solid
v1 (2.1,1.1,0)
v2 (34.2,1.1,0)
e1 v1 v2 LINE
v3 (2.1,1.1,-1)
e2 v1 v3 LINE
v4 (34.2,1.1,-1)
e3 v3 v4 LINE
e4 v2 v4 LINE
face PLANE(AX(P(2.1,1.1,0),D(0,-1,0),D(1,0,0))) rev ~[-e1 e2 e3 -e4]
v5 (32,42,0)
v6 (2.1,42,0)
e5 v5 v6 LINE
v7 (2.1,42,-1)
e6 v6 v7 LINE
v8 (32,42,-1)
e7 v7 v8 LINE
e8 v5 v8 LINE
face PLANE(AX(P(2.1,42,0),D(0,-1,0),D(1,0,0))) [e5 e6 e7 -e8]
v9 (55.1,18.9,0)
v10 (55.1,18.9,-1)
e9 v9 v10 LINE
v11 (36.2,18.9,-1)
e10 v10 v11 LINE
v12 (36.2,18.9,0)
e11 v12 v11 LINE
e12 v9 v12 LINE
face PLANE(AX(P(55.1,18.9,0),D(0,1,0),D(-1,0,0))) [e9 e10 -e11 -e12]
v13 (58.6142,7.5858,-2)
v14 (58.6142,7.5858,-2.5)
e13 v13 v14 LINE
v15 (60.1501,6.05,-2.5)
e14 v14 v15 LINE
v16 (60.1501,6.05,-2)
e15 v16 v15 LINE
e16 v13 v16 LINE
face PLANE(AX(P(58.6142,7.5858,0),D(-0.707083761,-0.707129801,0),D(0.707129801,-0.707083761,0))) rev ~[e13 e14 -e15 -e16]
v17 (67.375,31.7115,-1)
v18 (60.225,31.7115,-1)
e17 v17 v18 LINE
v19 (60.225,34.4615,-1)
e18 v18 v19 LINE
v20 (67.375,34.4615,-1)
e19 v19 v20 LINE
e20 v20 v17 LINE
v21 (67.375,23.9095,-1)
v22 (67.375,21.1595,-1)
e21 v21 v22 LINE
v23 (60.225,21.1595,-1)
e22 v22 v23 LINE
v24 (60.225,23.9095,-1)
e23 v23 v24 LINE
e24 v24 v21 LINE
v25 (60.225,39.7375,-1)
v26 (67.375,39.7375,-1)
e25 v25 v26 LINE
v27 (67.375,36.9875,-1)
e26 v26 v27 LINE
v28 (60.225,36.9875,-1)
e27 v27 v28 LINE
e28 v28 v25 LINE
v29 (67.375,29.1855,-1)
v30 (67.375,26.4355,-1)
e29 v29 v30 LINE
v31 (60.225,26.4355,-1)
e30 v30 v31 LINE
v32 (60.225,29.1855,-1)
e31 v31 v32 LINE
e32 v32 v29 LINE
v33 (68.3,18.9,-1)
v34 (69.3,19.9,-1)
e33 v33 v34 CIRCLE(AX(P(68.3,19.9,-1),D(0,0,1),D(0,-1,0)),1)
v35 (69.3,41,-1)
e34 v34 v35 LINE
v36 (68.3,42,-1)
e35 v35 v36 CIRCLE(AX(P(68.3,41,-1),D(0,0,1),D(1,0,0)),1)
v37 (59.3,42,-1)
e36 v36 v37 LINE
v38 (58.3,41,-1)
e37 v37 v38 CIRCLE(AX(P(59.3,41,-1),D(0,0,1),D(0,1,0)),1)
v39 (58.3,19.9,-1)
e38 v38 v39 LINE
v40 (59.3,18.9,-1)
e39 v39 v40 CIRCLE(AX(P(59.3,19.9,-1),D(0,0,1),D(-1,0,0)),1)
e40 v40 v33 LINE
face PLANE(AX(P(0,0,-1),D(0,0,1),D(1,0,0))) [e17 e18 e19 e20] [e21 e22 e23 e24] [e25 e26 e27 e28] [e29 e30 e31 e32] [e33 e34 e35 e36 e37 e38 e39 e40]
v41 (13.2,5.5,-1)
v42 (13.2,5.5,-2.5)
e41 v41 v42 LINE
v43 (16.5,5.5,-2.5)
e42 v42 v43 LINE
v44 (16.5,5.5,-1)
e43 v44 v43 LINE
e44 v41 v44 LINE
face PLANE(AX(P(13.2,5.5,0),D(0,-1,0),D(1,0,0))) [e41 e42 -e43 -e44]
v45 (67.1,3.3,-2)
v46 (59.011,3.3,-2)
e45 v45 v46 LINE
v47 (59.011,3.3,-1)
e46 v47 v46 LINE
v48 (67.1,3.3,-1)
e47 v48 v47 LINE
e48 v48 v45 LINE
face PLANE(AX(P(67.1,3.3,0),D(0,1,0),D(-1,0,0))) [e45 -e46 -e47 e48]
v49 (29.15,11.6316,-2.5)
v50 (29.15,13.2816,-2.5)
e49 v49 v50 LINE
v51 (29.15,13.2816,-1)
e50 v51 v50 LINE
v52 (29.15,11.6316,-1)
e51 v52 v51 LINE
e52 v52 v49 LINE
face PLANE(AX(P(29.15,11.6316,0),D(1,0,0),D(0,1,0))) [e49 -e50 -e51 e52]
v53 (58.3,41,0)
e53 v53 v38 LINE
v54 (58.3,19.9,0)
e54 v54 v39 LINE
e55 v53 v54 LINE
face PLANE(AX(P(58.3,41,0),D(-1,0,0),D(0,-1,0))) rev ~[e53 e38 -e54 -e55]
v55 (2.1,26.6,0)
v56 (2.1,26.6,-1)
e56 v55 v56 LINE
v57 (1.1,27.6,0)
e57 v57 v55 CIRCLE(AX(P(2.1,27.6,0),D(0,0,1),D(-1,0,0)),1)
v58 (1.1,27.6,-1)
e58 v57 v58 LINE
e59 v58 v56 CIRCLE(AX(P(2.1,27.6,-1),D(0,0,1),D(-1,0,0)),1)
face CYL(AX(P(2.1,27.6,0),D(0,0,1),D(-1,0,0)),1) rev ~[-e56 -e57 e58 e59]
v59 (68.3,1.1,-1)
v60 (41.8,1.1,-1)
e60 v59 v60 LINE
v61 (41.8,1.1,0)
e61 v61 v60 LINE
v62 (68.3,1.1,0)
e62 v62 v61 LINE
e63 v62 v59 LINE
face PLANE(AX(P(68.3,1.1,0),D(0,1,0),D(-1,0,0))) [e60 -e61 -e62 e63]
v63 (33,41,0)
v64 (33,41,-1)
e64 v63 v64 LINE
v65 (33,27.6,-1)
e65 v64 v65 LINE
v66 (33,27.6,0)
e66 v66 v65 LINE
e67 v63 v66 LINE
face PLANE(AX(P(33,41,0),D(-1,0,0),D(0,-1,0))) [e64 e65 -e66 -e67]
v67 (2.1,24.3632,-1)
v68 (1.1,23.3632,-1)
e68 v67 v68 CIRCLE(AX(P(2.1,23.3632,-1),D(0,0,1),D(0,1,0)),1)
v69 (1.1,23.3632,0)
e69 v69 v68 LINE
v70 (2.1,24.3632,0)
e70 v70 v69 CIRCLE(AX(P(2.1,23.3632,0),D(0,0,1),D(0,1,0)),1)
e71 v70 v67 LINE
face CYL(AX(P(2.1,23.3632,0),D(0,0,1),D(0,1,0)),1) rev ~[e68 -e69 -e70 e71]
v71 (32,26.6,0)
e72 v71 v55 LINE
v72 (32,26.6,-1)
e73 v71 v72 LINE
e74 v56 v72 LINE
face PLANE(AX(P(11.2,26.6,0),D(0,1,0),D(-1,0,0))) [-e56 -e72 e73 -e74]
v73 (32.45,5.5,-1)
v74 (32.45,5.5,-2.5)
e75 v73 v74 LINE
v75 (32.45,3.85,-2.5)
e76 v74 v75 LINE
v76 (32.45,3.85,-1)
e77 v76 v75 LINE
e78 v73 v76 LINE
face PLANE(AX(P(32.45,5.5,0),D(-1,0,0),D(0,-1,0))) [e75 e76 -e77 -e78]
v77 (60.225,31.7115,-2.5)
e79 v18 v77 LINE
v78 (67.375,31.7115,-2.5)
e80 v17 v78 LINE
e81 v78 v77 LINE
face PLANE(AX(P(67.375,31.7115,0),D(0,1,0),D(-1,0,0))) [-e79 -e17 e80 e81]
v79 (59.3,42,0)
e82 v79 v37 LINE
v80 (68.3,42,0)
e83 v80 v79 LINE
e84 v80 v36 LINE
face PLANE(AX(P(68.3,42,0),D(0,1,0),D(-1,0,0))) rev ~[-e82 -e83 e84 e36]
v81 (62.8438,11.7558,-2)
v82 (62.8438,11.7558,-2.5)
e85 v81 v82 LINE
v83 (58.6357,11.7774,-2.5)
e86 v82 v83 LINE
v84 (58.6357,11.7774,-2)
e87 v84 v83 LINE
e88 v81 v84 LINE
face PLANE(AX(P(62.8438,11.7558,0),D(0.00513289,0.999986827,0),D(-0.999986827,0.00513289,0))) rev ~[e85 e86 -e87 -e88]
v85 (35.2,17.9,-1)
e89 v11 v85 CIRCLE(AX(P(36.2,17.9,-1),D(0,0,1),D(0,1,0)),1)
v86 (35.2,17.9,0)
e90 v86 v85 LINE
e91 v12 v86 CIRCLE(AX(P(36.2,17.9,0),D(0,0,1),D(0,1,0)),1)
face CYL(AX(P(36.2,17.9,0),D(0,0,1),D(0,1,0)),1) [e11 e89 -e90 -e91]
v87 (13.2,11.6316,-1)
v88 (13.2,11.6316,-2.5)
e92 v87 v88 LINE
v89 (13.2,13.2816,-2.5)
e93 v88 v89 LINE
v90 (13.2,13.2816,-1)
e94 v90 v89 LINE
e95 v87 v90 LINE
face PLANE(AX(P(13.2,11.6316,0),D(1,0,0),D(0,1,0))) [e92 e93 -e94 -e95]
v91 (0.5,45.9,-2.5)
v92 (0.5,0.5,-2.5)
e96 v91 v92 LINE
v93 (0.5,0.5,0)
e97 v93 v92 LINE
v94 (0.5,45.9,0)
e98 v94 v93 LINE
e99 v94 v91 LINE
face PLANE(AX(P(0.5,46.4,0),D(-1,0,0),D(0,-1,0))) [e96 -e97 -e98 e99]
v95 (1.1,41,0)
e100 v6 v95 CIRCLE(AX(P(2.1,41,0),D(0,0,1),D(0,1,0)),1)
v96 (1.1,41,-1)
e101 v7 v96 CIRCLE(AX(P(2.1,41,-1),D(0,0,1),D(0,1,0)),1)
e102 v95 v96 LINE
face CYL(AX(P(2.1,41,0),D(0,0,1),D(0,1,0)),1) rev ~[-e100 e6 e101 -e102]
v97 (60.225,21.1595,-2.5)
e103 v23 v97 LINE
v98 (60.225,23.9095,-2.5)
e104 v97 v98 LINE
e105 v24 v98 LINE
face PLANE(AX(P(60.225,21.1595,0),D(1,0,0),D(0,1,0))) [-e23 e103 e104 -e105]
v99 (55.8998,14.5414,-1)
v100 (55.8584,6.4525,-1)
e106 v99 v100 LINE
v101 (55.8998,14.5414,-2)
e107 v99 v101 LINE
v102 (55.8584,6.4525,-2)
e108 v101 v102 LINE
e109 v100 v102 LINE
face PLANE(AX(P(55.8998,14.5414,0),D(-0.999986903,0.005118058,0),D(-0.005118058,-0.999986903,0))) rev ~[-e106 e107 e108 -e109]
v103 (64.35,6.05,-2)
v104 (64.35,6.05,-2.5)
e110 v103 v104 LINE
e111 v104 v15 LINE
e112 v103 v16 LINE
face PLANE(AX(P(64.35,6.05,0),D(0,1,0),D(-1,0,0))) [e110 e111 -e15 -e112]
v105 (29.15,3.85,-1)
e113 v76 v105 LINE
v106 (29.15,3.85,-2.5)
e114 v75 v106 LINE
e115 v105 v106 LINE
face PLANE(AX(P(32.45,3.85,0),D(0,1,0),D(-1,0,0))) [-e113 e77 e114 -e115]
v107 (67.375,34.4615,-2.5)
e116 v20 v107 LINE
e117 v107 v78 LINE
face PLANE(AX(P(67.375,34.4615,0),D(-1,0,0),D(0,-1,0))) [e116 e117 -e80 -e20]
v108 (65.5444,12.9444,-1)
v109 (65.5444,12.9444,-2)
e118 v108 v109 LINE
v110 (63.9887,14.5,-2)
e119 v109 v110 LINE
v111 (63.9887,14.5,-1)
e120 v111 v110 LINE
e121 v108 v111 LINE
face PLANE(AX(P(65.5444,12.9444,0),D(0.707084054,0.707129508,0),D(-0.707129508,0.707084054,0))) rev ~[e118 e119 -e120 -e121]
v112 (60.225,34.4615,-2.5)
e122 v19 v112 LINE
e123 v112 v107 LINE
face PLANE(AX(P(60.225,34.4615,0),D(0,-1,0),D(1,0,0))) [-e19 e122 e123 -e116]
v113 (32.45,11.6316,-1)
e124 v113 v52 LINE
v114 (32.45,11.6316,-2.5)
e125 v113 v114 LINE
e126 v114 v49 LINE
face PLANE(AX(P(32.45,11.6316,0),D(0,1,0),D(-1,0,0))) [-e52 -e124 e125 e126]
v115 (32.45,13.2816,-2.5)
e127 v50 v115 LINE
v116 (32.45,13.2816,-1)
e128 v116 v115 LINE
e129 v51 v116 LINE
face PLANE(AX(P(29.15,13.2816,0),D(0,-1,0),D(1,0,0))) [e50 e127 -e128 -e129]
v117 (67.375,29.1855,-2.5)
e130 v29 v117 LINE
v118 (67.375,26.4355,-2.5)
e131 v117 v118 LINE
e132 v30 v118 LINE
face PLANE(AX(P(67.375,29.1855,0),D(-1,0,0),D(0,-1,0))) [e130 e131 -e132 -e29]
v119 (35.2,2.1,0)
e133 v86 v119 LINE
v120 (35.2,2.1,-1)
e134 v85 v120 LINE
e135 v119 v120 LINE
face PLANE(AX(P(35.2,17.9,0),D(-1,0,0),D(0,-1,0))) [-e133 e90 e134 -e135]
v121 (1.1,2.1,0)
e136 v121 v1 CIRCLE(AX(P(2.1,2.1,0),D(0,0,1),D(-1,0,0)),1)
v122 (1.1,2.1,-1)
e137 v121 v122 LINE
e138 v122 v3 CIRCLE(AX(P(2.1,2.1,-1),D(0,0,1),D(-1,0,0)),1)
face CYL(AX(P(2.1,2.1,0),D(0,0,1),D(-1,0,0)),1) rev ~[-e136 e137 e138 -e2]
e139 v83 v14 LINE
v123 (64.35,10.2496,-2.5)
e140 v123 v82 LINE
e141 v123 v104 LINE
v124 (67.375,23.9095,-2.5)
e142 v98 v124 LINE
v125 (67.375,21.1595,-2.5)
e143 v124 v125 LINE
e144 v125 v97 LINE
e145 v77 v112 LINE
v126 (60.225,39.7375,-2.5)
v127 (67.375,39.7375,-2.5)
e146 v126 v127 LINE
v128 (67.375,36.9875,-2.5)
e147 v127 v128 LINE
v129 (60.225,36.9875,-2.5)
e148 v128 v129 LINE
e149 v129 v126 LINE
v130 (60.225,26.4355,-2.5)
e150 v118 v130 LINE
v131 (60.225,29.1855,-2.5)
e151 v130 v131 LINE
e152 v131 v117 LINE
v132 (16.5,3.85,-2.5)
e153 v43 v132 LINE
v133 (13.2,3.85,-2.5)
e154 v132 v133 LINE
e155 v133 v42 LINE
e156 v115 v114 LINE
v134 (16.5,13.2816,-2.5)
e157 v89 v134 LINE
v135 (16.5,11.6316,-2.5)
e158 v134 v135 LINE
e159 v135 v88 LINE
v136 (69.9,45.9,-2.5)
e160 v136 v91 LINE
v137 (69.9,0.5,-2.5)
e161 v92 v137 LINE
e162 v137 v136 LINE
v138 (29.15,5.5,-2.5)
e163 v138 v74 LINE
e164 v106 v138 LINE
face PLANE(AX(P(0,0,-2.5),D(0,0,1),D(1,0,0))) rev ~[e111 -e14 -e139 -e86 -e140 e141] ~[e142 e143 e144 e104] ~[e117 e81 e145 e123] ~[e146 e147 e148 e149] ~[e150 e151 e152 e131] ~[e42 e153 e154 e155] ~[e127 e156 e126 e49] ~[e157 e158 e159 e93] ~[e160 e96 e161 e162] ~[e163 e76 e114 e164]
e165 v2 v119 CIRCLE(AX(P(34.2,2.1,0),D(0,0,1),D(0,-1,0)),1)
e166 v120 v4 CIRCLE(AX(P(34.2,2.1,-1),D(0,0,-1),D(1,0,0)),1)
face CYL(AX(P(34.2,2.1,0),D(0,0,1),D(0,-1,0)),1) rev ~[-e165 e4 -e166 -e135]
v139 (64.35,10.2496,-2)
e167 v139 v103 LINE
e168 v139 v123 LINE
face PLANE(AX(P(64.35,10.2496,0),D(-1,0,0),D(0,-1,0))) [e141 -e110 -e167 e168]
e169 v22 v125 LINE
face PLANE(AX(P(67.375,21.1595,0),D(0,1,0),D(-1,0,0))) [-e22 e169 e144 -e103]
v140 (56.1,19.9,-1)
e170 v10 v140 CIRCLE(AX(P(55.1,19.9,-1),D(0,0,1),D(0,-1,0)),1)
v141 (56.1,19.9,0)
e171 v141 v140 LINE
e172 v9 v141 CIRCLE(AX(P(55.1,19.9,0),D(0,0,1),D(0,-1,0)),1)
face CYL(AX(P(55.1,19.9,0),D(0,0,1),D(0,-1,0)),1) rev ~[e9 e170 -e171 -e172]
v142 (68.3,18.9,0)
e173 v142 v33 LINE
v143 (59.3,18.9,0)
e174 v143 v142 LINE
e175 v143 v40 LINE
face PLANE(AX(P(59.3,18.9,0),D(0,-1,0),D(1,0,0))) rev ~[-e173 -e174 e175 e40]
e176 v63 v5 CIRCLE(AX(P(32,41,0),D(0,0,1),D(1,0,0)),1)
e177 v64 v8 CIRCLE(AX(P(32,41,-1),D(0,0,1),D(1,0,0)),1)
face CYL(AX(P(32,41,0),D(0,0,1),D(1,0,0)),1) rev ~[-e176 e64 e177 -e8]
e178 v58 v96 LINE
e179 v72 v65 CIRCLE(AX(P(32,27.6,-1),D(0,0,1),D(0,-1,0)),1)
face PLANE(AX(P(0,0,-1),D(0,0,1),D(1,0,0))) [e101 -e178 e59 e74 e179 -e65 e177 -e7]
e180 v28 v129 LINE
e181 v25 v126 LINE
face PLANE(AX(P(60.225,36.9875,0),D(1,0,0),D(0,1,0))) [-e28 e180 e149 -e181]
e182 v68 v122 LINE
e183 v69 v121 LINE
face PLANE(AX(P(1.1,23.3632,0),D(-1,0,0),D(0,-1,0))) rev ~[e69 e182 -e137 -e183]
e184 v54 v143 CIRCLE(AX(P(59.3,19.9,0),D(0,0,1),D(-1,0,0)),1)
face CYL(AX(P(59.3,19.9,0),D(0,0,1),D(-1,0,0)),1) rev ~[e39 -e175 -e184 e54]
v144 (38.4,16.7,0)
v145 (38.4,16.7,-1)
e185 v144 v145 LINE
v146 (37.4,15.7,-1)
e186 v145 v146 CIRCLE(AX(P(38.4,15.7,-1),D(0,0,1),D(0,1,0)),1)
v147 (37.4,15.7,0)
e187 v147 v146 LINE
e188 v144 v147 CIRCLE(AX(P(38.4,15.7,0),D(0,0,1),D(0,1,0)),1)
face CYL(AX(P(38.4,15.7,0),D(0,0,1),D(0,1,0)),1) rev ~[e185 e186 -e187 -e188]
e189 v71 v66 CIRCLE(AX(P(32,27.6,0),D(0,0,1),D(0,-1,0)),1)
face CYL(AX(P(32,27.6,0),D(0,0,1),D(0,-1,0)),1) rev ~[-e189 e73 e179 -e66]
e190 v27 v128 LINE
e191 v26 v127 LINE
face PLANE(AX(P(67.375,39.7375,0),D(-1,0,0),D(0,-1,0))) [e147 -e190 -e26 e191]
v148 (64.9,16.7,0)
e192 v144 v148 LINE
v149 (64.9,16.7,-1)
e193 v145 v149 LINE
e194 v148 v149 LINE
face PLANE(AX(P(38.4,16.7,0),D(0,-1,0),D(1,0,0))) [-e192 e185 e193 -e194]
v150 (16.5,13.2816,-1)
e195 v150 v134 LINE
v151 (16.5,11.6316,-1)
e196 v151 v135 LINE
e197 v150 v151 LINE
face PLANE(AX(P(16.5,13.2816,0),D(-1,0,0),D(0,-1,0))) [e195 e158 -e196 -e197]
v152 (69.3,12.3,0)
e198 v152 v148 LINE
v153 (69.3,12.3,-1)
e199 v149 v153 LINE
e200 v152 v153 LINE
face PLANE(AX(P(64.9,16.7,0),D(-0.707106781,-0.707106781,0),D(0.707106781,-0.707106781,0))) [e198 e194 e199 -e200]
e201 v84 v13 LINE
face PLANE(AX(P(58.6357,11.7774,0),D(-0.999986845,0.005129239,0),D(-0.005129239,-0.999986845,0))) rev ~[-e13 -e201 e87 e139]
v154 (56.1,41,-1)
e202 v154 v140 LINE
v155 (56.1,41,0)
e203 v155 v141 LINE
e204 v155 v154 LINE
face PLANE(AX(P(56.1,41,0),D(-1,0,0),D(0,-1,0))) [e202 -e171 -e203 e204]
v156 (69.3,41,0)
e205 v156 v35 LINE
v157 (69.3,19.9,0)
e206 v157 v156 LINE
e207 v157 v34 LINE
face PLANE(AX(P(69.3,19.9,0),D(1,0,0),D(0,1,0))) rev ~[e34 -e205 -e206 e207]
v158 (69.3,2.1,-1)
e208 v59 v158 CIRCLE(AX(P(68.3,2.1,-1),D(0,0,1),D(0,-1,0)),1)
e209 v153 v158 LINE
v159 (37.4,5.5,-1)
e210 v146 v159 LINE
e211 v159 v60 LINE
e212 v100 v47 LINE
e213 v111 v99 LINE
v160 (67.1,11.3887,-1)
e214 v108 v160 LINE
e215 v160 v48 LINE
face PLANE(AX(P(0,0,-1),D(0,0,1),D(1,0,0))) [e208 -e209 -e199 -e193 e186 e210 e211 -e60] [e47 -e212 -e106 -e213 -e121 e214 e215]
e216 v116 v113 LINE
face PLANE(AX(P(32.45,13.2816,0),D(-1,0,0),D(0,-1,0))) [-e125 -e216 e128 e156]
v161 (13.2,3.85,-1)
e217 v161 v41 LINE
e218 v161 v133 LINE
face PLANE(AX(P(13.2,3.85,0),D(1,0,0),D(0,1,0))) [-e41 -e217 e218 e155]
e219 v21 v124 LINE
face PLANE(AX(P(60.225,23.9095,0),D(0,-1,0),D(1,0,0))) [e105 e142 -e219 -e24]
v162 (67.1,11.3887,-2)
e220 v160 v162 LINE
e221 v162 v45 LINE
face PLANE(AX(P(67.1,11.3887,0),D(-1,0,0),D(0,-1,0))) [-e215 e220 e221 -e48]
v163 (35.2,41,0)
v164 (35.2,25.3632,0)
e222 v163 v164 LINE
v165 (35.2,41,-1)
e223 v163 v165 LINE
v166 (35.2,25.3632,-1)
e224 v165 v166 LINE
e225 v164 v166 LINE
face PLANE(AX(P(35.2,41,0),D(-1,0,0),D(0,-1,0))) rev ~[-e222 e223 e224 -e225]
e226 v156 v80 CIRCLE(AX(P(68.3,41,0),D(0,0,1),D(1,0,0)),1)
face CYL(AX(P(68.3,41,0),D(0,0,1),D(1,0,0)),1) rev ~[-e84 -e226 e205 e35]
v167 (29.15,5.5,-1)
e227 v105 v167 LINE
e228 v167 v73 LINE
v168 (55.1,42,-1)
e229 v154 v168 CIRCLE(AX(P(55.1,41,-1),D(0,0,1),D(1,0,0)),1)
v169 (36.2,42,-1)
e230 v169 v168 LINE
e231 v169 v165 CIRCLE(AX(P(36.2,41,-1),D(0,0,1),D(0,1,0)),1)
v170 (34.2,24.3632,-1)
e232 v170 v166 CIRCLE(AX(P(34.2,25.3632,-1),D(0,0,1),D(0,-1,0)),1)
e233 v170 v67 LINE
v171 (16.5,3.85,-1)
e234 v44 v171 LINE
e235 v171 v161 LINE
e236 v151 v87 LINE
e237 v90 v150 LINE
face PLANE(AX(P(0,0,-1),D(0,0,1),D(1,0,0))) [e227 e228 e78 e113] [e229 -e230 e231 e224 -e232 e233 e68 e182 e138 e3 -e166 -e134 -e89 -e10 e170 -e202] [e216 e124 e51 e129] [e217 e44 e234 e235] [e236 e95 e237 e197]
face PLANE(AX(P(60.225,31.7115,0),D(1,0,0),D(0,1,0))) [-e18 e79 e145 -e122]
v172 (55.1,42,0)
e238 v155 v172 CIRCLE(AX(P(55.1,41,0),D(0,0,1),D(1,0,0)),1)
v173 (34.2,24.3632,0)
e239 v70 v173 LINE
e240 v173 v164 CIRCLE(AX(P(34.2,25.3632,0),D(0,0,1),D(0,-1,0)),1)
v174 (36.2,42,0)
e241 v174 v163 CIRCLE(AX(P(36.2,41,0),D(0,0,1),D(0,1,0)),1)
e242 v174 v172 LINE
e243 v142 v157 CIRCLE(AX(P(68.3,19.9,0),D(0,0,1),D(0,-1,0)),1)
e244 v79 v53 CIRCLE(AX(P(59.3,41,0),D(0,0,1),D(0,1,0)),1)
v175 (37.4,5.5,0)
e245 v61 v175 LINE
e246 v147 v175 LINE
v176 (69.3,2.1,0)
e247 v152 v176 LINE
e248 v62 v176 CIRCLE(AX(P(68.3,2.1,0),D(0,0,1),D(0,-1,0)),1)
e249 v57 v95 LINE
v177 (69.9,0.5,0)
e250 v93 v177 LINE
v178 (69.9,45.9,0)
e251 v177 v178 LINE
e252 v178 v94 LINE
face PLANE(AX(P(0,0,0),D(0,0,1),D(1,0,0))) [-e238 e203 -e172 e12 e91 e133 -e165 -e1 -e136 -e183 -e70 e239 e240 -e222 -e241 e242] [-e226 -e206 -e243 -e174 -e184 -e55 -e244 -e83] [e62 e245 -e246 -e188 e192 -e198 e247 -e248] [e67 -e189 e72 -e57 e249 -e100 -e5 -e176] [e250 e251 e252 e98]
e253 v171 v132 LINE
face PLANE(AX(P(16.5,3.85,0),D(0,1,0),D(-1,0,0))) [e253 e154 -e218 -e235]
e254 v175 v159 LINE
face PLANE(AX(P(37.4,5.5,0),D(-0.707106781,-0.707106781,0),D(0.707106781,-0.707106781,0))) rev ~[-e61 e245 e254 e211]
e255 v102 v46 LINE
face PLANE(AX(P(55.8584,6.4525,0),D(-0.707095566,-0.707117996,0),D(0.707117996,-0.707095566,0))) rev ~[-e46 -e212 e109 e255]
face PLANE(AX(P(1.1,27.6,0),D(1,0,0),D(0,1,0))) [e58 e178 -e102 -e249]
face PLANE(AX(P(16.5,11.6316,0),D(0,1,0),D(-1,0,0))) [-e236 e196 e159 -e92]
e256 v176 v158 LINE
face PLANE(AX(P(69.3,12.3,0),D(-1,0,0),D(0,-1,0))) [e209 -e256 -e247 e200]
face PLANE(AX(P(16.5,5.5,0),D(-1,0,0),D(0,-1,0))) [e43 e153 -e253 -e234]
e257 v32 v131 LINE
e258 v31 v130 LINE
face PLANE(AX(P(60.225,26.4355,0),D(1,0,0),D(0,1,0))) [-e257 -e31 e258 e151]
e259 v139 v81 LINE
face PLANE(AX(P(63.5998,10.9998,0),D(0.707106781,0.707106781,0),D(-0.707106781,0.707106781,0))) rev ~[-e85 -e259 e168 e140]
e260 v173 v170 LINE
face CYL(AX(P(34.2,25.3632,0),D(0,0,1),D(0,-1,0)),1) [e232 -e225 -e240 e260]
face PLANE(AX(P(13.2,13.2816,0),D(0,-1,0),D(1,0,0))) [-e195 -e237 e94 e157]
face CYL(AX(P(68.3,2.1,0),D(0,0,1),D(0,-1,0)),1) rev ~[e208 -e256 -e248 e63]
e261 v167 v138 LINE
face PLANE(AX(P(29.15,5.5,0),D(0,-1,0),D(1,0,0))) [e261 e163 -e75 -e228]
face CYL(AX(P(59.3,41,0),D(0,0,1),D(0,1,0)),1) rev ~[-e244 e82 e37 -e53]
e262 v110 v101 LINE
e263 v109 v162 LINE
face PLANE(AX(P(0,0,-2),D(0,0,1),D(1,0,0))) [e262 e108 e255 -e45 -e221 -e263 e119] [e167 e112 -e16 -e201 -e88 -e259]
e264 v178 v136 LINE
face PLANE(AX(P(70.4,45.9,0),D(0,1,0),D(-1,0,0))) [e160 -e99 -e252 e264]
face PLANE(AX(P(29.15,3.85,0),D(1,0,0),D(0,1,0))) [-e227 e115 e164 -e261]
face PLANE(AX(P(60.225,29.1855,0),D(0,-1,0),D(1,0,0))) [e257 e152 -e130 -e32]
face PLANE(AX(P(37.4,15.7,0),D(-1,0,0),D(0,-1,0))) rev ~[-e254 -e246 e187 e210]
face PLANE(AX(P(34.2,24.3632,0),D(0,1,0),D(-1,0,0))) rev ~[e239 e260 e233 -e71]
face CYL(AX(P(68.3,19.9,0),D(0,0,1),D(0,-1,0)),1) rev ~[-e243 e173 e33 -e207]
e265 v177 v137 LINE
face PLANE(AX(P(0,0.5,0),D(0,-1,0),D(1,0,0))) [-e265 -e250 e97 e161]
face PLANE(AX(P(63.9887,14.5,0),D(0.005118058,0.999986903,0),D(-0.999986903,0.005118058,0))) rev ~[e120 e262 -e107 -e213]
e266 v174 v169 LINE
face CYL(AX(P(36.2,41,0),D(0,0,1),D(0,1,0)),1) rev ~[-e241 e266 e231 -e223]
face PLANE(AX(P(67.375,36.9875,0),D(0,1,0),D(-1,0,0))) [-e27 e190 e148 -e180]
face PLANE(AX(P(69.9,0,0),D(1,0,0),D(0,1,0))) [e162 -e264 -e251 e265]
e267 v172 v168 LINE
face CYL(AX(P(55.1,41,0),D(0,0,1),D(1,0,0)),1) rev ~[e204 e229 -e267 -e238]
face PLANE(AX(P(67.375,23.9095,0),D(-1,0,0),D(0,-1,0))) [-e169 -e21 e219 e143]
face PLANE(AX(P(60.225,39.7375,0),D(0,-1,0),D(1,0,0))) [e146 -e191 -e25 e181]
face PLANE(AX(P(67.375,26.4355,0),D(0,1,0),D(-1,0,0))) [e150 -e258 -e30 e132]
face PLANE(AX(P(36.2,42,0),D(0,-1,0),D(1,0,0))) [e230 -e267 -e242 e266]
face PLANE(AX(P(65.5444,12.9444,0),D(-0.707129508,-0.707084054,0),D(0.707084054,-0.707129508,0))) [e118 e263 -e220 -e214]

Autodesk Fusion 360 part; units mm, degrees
sketch "Sketch1" plane through (0, 0, 0) normal (0, 0, 1) x (1, 0, 0)
  line L0 (0, 0) -> (70.4, 0)
  line L1 (70.4, 0) -> (70.4, 46.4)
  line L2 (70.4, 46.4) -> (0, 46.4)
  line L3 (0, 46.4) -> (0, 0)
  line L4 (1.1, 1.1) -> (69.3, 1.1) construction
  line L5 (69.3, 1.1) -> (69.3, 45.3) construction
  line L6 (69.3, 45.3) -> (1.1, 45.3) construction
  line L7 (1.1, 45.3) -> (1.1, 1.1) construction
  line L8 (35.2, 45.3) -> (35.2, 1.1) construction
  line L9 (1.1, 23.2) -> (35.2, 23.2) construction
  line L10 (35.2, 23.2) -> (69.3, 23.2) construction
  line L11 (35.2, 45.3) -> (35.2, 42) construction
  line L12 (35.2, 42) -> (35, 42) construction
  line L13 (35, 42) -> (1.1, 42) construction
  line L14 (35.2, 42) -> (69.3, 42) construction
  line L15 (68.3, 42) -> (59.3, 42)
  line L16 (58.3, 41) -> (58.3, 19.9)
  line L17 (59.3, 18.9) -> (68.3, 18.9)
  line L18 (69.3, 19.9) -> (69.3, 41)
  line L19 (58.3, 30.45) -> (56.1, 30.45) construction
  line L20 (36.2, 42) -> (55.1, 42)
  line L21 (56.1, 41) -> (56.1, 19.9)
  line L22 (55.1, 18.9) -> (36.2, 18.9)
  line L23 (35.2, 30.45) -> (33, 30.45) construction
  line L24 (2.1, 42) -> (32, 42)
  line L25 (33, 41) -> (33, 27.6)
  line L26 (32, 26.6) -> (2.1, 26.6)
  line L27 (1.1, 27.6) -> (1.1, 41)
  line L28 (17.05, 26.6) -> (17.05, 24.4) construction
  line L29 (45.65, 18.9) -> (45.65, 16.7) construction
  line L30 (2.1, 1.1) -> (34.2, 1.1)
  line L31 (34.2, 24.3632) -> (2.1, 24.3632)
  line L32 (1.1, 23.3632) -> (1.1, 2.1)
  line L33 (35.2, 41) -> (35.2, 25.3632)
  line L34 (35.2, 17.9) -> (35.2, 2.1)
  line L35 (18.15, 24.3632) -> (18.15, 17.7632) construction
  line L36 (1.1, 1.1) -> (1.1, 2.2) construction
  line L37 (1.1, 1.1) -> (2.2, 1.1) construction
  line L38 (35.2, 1.1) -> (35.2, 2.2) construction
  line L39 (35.2, 1.1) -> (34.1, 1.1) construction
  line L40 (2.2, 2.2) -> (34.1, 2.2) construction
  line L41 (34.1, 2.2) -> (34.1, 17.7632) construction
  line L42 (34.1, 17.7632) -> (18.15, 17.7632) construction
  line L43 (2.2, 2.2) -> (2.2, 17.7632) construction
  line L44 (2.2, 17.7632) -> (18.15, 17.7632) construction
  line L45 (18.15, 2.2) -> (18.15, 17.7632) construction
  line L46 (18.15, 9.9816) -> (34.1, 9.9816) construction
  line L47 (18.15, 9.9816) -> (2.2, 9.9816) construction
  line L48 (10.175, 9.9816) -> (10.175, 11.0816) construction
  line L49 (18.15, 9.9816) -> (18.15, 17.7632) construction
  line L50 (18.15, 9.9816) -> (18.15, 2.2) construction
  line L51 (18.15, 13.8724) -> (17.05, 13.8724) construction
  line L52 (2.2, 2.2) -> (18.15, 2.2) construction
  line L53 (18.15, 2.2) -> (34.1, 2.2) construction
  line L54 (10.175, 2.2) -> (10.175, 3.3) construction
  line L55 (18.15, 6.0908) -> (17.05, 6.0908) construction
  line L56 (26.125, 2.2) -> (26.125, 3.3) construction
  line L57 (18.15, 6.0908) -> (19.25, 6.0908) construction
  line L58 (18.15, 13.8724) -> (19.25, 13.8724) construction
  line L59 (26.125, 9.9816) -> (26.125, 11.0816) construction
  line L60 (3.3, 16.6632) -> (17.05, 16.6632) construction
  line L61 (17.05, 16.6632) -> (17.05, 11.0816) construction
  line L62 (17.05, 11.0816) -> (3.3, 11.0816) construction
  line L63 (3.3, 11.0816) -> (3.3, 16.6632) construction
  line L64 (3.3, 8.8816) -> (17.05, 8.8816) construction
  line L65 (17.05, 8.8816) -> (17.05, 3.3) construction
  line L66 (17.05, 3.3) -> (3.3, 3.3) construction
  line L67 (3.3, 3.3) -> (3.3, 8.8816) construction
  line L68 (19.25, 8.8816) -> (33, 8.8816) construction
  line L69 (33, 8.8816) -> (33, 3.3) construction
  line L70 (33, 3.3) -> (19.25, 3.3) construction
  line L71 (19.25, 3.3) -> (19.25, 8.8816) construction
  line L72 (19.25, 16.6632) -> (33, 16.6632) construction
  line L73 (33, 16.6632) -> (33, 11.0816) construction
  line L74 (33, 11.0816) -> (19.25, 11.0816) construction
  line L75 (19.25, 11.0816) -> (19.25, 16.6632) construction
  line L76 (17.05, 11.0816) -> (17.05, 11.6316) construction
  line L77 (17.05, 11.0816) -> (16.5, 11.0816) construction
  line L78 (33, 11.0816) -> (33, 11.6316) construction
  line L79 (33, 11.0816) -> (32.45, 11.0816) construction
  line L80 (33, 3.3) -> (33, 3.85) construction
  line L81 (33, 3.3) -> (32.45, 3.3) construction
  line L82 (17.05, 3.3) -> (16.5, 3.3) construction
  line L83 (17.05, 3.3) -> (17.05, 3.85) construction
  line L84 (16.5, 11.6316) -> (13.2, 11.6316)
  line L85 (13.2, 11.6316) -> (13.2, 13.2816)
  line L86 (13.2, 13.2816) -> (16.5, 13.2816)
  line L87 (16.5, 13.2816) -> (16.5, 11.6316)
  line L88 (32.45, 11.6316) -> (29.15, 11.6316)
  line L89 (29.15, 11.6316) -> (29.15, 13.2816)
  line L90 (29.15, 13.2816) -> (32.45, 13.2816)
  line L91 (32.45, 13.2816) -> (32.45, 11.6316)
  line L92 (32.45, 3.85) -> (29.15, 3.85)
  line L93 (29.15, 3.85) -> (29.15, 5.5)
  line L94 (29.15, 5.5) -> (32.45, 5.5)
  line L95 (32.45, 5.5) -> (32.45, 3.85)
  line L96 (16.5, 3.85) -> (13.2, 3.85)
  line L97 (13.2, 3.85) -> (13.2, 5.5)
  line L98 (13.2, 5.5) -> (16.5, 5.5)
  line L99 (16.5, 5.5) -> (16.5, 3.85)
  line L100 (35.2, 10) -> (37.4, 10) construction
  line L101 (37.4, 16.7) -> (69.3, 16.7) construction
  line L102 (69.3, 16.7) -> (64.9, 16.7) construction
  line L103 (69.3, 16.7) -> (69.3, 12.3) construction
  line L104 (64.9, 16.7) -> (69.3, 12.3)
  line L105 (37.4, 1.1) -> (37.4, 5.5) construction
  line L106 (37.4, 1.1) -> (41.8, 1.1) construction
  line L107 (37.4, 5.5) -> (41.8, 1.1)
  line L108 (37.4, 15.7) -> (37.4, 5.5)
  line L109 (38.4, 16.7) -> (64.9, 16.7)
  line L110 (69.3, 12.3) -> (69.3, 2.1)
  line L111 (68.3, 1.1) -> (41.8, 1.1)
  line L112 (67.1, 14.5) -> (65.5444, 12.9444) construction
  line L113 (65.5444, 12.9444) -> (67.1, 11.3887)
  line L114 (65.5444, 12.9444) -> (63.9887, 14.5)
  line L115 (67.1, 11.3887) -> (69.3, 11.4) construction
  line L116 (63.9887, 14.5) -> (64, 16.7) construction
  line L117 (67.1, 1.1) -> (67.1, 3.3) construction
  line L118 (67.1, 11.3887) -> (67.1, 3.3)
  line L119 (67.1, 3.3) -> (59.011, 3.3)
  line L120 (63.9887, 14.5) -> (55.8998, 14.5414)
  line L121 (55.8998, 14.5414) -> (55.8584, 6.4525)
  line L122 (55.8584, 6.4525) -> (59.011, 3.3)
  line L123 (58.6142, 7.5858) -> (60.1501, 6.05)
  line L124 (64.35, 6.05) -> (60.1501, 6.05)
  line L125 (64.35, 10.2496) -> (64.35, 6.05)
  line L126 (63.5998, 10.9998) -> (64.35, 10.2496)
  line L127 (63.5998, 10.9998) -> (62.8438, 11.7558)
  line L128 (62.8438, 11.7558) -> (58.6357, 11.7774)
  line L129 (58.6357, 11.7774) -> (58.6142, 7.5858)
  arc A0 (2.1, 42) -> (1.1, 41) centre (2.1, 41) ccw
  arc A1 (33, 41) -> (32, 42) centre (32, 41) ccw
  arc A2 (32, 26.6) -> (33, 27.6) centre (32, 27.6) ccw
  arc A3 (1.1, 27.6) -> (2.1, 26.6) centre (2.1, 27.6) ccw
  arc A4 (36.2, 42) -> (35.2, 41) centre (36.2, 41) ccw
  arc A5 (56.1, 41) -> (55.1, 42) centre (55.1, 41) ccw
  arc A6 (55.1, 18.9) -> (56.1, 19.9) centre (55.1, 19.9) ccw
  arc A7 (36.2, 18.9) -> (35.2, 17.9) centre (36.2, 17.9) ccw
  arc A8 (34.2, 1.1) -> (35.2, 2.1) centre (34.2, 2.1) ccw
  arc A9 (1.1, 2.1) -> (2.1, 1.1) centre (2.1, 2.1) ccw
  arc A10 (2.1, 24.3632) -> (1.1, 23.3632) centre (2.1, 23.3632) ccw
  arc A11 (34.2, 24.3632) -> (35.2, 25.3632) centre (34.2, 25.3632) ccw
  arc A12 (38.4, 16.7) -> (37.4, 15.7) centre (38.4, 15.7) ccw
  arc A13 (68.3, 1.1) -> (69.3, 2.1) centre (68.3, 2.1) ccw
  arc A14 (59.3, 42) -> (58.3, 41) centre (59.3, 41) ccw
  arc A15 (58.3, 19.9) -> (59.3, 18.9) centre (59.3, 19.9) ccw
  arc A16 (68.3, 18.9) -> (69.3, 19.9) centre (68.3, 19.9) ccw
  arc A17 (69.3, 41) -> (68.3, 42) centre (68.3, 41) ccw
  line L130 (58.3, 41) -> (69.3, 41) construction
  line L131 (58.3, 19.9) -> (69.3, 19.9) construction
  line L132 (63.8, 19.9) -> (63.8, 41) construction
  line L133 (60.225, 39.7375) -> (67.375, 39.7375)
  line L134 (67.375, 39.7375) -> (67.375, 36.9875)
  line L135 (67.375, 36.9875) -> (60.225, 36.9875)
  line L136 (60.225, 36.9875) -> (60.225, 39.7375)
  line L137 (63.8, 41) -> (63.8, 39.7375) construction
  line L138 (60.225, 31.7115) -> (60.225, 34.4615)
  line L139 (60.225, 34.4615) -> (67.375, 34.4615)
  line L140 (67.375, 31.7115) -> (60.225, 31.7115)
  line L141 (67.375, 34.4615) -> (67.375, 31.7115)
  line L142 (67.375, 26.4355) -> (60.225, 26.4355)
  line L143 (60.225, 26.4355) -> (60.225, 29.1855)
  line L144 (67.375, 29.1855) -> (67.375, 26.4355)
  line L145 (60.225, 29.1855) -> (67.375, 29.1855)
  line L146 (60.225, 21.1595) -> (60.225, 23.9095)
  line L147 (60.225, 23.9095) -> (67.375, 23.9095)
  line L148 (67.375, 21.1595) -> (60.225, 21.1595)
  line L149 (67.375, 23.9095) -> (67.375, 21.1595)
  line L150 (63.8, 36.9875) -> (63.8, 34.4615) construction
  line L151 (63.8, 31.7115) -> (63.8, 29.1855) construction
  line L152 (63.8, 26.4355) -> (63.8, 23.9095) construction
  line L153 (70.4, 33.0328) -> (68.4, 33.0328) construction
  line L154 (13.2, 4.675) -> (11.2, 4.675) construction
  line L155 (14.85, 3.85) -> (14.85, 1.85) construction
  line L156 (11.2, 1.85) -> (68.3, 1.85)
  line L157 (68.3, 1.85) -> (68.3, 42.6341)
  line L158 (68.3, 42.6341) -> (11.2, 42.6341)
  line L159 (11.2, 42.6341) -> (11.2, 1.85)
  point P0 (58.3, 42)
  point P1 (69.3, 18.9)
  point P2 (56.1, 42)
  point P3 (56.1, 18.9)
  point P4 (35.2, 18.9)
  point P5 (1.1, 26.6)
  dimension "d1" = 46.4
  dimension "d2" = 70.4
  dimension "d3" = -1.1
  dimension "d5" = 3.3
  dimension "d6" = 11
  dimension "d7" = 23.1
  dimension "d8" = 2.2
  dimension "d9" = 23.1
  dimension "d10" = 20.9
  dimension "d11" = 2.2
  dimension "d12" = 15.4
  dimension "d13" = 2.2
  dimension "d14" = 2.2
  dimension "d16" = 6.6
  dimension "d18" = 1.1
  dimension "d19" = 1.1
  dimension "d20" = 1.1
  dimension "d21" = 1.1
  dimension "d22" = 1.1
  dimension "d23" = 1.1
  dimension "d24" = 1.1
  dimension "d25" = 1.1
  dimension "d26" = 1.1
  dimension "d27" = 1.1
  dimension "d28" = 1.1
  dimension "d29" = 1.1
  dimension "d30" = 0.55
  dimension "d31" = 0.55
  dimension "d32" = 0.55
  dimension "d33" = 0.55
  dimension "d34" = 0.55
  dimension "d35" = 0.55
  dimension "d36" = 0.55
  dimension "d37" = 0.55
  dimension "d38" = 3.3
  dimension "d39" = 1.65
  dimension "d40" = 3.3
  dimension "d41" = 1.65
  dimension "d42" = 3.3
  dimension "d43" = 1.65
  dimension "d44" = 3.3
  dimension "d45" = 1.65
  dimension "d46" = 2.2
  dimension "d47" = 4.4
  dimension "d48" = 4.4
  dimension "d49" = 4.4
  dimension "d50" = 4.4
  dimension "d51" = 2.2
  dimension "d52" = 2.2
  dimension "d53" = 2.2
  dimension "d55" = 2.2
  dimension "d56" = 8.089
  dimension "d57" = 8.089
  dimension "d58" = 8.089
  dimension "d59" = -2.75
  dimension "d60" = 1
  dimension "d61" = 1
  dimension "d62" = 1
  dimension "d63" = 1
  dimension "d64" = 1
  dimension "d65" = 2.75
  dimension "d66" = 1.2625
  dimension "d67" = 7.15
  dimension "d68" = 2.75
  dimension "d69" = 7.15
  dimension "d70" = 2.75
  dimension "d71" = 7.15
  dimension "d72" = 2.75
  dimension "d73" = 7.15
  dimension "d74" = 2.526
  dimension "d75" = 2.526
  dimension "d76" = 2.526
  dimension "d93" = 2
  dimension "d94" = 2
  dimension "d95" = 2
extrude "Extrude1" add sketch "Sketch1" against normal blind 2.5 contours L0 L1 L2 L3 | L15 L16 L17 A14 A15 L157 | L18 A16 A17 L157 | L15 L16 L17 L20 L21 L22 L24 L25 L26 L31 L33 L34 L104 L107 L108 L109 A1 A2 A4 A5 A6 A7 A8 A11 A12 A14 A15 L156 L157 L158 L159 | L104 L107 L108 L109 A12 L156 L157 | L104 L107 L110 L111 A13 L156 L157 | L24 L26 L27 A0 A3 L159 | L24 L25 L26 A1 A2 L159 | L20 L21 L22 L31 L33 L34 A4 A5 A6 A7 A8 A11 L156 L159 | L30 L31 L32 A8 A9 A10 L156 L159 | L84 L85 L86 L87 | L88 L89 L90 L91 | L92 L93 L94 L95 | L96 L97 L98 L99 | L113 L114 L118 L119 L120 L121 L122 | L123 L124 L125 L126 L127 L128 L129 | L133 L134 L135 L136 | L138 L139 L140 L141 | L142 L143 L144 L145 | L146 L147 L148 L149
extrude "Extrude2" cut sketch "Sketch1" against normal blind 1 contours L15 L16 L17 A14 A15 L157 | L18 A16 A17 L157 | L104 L107 L108 L109 A12 L156 L157 | L104 L107 L110 L111 A13 L156 L157 | L24 L26 L27 A0 A3 L159 | L24 L25 L26 A1 A2 L159 | L20 L21 L22 L31 L33 L34 A4 A5 A6 A7 A8 A11 L156 L159 | L30 L31 L32 A8 A9 A10 L156 L159 | L84 L85 L86 L87 | L88 L89 L90 L91 | L92 L93 L94 L95 | L96 L97 L98 L99 | L113 L114 L118 L119 L120 L121 L122 | L123 L124 L125 L126 L127 L128 L129 | L133 L134 L135 L136 | L138 L139 L140 L141 | L142 L143 L144 L145 | L146 L147 L148 L149
extrude "Extrude3" cut sketch "Sketch1" against normal blind 2 contours L113 L114 L118 L119 L120 L121 L122 | L123 L124 L125 L126 L127 L128 L129
extrude "Extrude4" cut sketch "Sketch1" against normal blind 10 contours L84 L85 L86 L87 | L88 L89 L90 L91 | L92 L93 L94 L95 | L96 L97 L98 L99 | L123 L124 L125 L126 L127 L128 L129 | L133 L134 L135 L136 | L138 L139 L140 L141 | L142 L143 L144 L145 | L146 L147 L148 L149
extrude "Extrude5" cut 1 faces at (23.4667, 0, -0.8333) along direction (0, 1, 0) blind 0.5
extrude "Extrude6" cut 1 faces at (46.9333, 46.4, -0.8333) along direction (0, -1, 0) blind 0.5
extrude "Extrude7" cut 1 faces at (70.4, 15.6333, -0.8333) along direction (-1, 0, 0) blind 0.5
extrude "Extrude8" cut 1 faces at (0, 30.7667, -0.8333) along direction (1, 0, 0) blind 0.5
